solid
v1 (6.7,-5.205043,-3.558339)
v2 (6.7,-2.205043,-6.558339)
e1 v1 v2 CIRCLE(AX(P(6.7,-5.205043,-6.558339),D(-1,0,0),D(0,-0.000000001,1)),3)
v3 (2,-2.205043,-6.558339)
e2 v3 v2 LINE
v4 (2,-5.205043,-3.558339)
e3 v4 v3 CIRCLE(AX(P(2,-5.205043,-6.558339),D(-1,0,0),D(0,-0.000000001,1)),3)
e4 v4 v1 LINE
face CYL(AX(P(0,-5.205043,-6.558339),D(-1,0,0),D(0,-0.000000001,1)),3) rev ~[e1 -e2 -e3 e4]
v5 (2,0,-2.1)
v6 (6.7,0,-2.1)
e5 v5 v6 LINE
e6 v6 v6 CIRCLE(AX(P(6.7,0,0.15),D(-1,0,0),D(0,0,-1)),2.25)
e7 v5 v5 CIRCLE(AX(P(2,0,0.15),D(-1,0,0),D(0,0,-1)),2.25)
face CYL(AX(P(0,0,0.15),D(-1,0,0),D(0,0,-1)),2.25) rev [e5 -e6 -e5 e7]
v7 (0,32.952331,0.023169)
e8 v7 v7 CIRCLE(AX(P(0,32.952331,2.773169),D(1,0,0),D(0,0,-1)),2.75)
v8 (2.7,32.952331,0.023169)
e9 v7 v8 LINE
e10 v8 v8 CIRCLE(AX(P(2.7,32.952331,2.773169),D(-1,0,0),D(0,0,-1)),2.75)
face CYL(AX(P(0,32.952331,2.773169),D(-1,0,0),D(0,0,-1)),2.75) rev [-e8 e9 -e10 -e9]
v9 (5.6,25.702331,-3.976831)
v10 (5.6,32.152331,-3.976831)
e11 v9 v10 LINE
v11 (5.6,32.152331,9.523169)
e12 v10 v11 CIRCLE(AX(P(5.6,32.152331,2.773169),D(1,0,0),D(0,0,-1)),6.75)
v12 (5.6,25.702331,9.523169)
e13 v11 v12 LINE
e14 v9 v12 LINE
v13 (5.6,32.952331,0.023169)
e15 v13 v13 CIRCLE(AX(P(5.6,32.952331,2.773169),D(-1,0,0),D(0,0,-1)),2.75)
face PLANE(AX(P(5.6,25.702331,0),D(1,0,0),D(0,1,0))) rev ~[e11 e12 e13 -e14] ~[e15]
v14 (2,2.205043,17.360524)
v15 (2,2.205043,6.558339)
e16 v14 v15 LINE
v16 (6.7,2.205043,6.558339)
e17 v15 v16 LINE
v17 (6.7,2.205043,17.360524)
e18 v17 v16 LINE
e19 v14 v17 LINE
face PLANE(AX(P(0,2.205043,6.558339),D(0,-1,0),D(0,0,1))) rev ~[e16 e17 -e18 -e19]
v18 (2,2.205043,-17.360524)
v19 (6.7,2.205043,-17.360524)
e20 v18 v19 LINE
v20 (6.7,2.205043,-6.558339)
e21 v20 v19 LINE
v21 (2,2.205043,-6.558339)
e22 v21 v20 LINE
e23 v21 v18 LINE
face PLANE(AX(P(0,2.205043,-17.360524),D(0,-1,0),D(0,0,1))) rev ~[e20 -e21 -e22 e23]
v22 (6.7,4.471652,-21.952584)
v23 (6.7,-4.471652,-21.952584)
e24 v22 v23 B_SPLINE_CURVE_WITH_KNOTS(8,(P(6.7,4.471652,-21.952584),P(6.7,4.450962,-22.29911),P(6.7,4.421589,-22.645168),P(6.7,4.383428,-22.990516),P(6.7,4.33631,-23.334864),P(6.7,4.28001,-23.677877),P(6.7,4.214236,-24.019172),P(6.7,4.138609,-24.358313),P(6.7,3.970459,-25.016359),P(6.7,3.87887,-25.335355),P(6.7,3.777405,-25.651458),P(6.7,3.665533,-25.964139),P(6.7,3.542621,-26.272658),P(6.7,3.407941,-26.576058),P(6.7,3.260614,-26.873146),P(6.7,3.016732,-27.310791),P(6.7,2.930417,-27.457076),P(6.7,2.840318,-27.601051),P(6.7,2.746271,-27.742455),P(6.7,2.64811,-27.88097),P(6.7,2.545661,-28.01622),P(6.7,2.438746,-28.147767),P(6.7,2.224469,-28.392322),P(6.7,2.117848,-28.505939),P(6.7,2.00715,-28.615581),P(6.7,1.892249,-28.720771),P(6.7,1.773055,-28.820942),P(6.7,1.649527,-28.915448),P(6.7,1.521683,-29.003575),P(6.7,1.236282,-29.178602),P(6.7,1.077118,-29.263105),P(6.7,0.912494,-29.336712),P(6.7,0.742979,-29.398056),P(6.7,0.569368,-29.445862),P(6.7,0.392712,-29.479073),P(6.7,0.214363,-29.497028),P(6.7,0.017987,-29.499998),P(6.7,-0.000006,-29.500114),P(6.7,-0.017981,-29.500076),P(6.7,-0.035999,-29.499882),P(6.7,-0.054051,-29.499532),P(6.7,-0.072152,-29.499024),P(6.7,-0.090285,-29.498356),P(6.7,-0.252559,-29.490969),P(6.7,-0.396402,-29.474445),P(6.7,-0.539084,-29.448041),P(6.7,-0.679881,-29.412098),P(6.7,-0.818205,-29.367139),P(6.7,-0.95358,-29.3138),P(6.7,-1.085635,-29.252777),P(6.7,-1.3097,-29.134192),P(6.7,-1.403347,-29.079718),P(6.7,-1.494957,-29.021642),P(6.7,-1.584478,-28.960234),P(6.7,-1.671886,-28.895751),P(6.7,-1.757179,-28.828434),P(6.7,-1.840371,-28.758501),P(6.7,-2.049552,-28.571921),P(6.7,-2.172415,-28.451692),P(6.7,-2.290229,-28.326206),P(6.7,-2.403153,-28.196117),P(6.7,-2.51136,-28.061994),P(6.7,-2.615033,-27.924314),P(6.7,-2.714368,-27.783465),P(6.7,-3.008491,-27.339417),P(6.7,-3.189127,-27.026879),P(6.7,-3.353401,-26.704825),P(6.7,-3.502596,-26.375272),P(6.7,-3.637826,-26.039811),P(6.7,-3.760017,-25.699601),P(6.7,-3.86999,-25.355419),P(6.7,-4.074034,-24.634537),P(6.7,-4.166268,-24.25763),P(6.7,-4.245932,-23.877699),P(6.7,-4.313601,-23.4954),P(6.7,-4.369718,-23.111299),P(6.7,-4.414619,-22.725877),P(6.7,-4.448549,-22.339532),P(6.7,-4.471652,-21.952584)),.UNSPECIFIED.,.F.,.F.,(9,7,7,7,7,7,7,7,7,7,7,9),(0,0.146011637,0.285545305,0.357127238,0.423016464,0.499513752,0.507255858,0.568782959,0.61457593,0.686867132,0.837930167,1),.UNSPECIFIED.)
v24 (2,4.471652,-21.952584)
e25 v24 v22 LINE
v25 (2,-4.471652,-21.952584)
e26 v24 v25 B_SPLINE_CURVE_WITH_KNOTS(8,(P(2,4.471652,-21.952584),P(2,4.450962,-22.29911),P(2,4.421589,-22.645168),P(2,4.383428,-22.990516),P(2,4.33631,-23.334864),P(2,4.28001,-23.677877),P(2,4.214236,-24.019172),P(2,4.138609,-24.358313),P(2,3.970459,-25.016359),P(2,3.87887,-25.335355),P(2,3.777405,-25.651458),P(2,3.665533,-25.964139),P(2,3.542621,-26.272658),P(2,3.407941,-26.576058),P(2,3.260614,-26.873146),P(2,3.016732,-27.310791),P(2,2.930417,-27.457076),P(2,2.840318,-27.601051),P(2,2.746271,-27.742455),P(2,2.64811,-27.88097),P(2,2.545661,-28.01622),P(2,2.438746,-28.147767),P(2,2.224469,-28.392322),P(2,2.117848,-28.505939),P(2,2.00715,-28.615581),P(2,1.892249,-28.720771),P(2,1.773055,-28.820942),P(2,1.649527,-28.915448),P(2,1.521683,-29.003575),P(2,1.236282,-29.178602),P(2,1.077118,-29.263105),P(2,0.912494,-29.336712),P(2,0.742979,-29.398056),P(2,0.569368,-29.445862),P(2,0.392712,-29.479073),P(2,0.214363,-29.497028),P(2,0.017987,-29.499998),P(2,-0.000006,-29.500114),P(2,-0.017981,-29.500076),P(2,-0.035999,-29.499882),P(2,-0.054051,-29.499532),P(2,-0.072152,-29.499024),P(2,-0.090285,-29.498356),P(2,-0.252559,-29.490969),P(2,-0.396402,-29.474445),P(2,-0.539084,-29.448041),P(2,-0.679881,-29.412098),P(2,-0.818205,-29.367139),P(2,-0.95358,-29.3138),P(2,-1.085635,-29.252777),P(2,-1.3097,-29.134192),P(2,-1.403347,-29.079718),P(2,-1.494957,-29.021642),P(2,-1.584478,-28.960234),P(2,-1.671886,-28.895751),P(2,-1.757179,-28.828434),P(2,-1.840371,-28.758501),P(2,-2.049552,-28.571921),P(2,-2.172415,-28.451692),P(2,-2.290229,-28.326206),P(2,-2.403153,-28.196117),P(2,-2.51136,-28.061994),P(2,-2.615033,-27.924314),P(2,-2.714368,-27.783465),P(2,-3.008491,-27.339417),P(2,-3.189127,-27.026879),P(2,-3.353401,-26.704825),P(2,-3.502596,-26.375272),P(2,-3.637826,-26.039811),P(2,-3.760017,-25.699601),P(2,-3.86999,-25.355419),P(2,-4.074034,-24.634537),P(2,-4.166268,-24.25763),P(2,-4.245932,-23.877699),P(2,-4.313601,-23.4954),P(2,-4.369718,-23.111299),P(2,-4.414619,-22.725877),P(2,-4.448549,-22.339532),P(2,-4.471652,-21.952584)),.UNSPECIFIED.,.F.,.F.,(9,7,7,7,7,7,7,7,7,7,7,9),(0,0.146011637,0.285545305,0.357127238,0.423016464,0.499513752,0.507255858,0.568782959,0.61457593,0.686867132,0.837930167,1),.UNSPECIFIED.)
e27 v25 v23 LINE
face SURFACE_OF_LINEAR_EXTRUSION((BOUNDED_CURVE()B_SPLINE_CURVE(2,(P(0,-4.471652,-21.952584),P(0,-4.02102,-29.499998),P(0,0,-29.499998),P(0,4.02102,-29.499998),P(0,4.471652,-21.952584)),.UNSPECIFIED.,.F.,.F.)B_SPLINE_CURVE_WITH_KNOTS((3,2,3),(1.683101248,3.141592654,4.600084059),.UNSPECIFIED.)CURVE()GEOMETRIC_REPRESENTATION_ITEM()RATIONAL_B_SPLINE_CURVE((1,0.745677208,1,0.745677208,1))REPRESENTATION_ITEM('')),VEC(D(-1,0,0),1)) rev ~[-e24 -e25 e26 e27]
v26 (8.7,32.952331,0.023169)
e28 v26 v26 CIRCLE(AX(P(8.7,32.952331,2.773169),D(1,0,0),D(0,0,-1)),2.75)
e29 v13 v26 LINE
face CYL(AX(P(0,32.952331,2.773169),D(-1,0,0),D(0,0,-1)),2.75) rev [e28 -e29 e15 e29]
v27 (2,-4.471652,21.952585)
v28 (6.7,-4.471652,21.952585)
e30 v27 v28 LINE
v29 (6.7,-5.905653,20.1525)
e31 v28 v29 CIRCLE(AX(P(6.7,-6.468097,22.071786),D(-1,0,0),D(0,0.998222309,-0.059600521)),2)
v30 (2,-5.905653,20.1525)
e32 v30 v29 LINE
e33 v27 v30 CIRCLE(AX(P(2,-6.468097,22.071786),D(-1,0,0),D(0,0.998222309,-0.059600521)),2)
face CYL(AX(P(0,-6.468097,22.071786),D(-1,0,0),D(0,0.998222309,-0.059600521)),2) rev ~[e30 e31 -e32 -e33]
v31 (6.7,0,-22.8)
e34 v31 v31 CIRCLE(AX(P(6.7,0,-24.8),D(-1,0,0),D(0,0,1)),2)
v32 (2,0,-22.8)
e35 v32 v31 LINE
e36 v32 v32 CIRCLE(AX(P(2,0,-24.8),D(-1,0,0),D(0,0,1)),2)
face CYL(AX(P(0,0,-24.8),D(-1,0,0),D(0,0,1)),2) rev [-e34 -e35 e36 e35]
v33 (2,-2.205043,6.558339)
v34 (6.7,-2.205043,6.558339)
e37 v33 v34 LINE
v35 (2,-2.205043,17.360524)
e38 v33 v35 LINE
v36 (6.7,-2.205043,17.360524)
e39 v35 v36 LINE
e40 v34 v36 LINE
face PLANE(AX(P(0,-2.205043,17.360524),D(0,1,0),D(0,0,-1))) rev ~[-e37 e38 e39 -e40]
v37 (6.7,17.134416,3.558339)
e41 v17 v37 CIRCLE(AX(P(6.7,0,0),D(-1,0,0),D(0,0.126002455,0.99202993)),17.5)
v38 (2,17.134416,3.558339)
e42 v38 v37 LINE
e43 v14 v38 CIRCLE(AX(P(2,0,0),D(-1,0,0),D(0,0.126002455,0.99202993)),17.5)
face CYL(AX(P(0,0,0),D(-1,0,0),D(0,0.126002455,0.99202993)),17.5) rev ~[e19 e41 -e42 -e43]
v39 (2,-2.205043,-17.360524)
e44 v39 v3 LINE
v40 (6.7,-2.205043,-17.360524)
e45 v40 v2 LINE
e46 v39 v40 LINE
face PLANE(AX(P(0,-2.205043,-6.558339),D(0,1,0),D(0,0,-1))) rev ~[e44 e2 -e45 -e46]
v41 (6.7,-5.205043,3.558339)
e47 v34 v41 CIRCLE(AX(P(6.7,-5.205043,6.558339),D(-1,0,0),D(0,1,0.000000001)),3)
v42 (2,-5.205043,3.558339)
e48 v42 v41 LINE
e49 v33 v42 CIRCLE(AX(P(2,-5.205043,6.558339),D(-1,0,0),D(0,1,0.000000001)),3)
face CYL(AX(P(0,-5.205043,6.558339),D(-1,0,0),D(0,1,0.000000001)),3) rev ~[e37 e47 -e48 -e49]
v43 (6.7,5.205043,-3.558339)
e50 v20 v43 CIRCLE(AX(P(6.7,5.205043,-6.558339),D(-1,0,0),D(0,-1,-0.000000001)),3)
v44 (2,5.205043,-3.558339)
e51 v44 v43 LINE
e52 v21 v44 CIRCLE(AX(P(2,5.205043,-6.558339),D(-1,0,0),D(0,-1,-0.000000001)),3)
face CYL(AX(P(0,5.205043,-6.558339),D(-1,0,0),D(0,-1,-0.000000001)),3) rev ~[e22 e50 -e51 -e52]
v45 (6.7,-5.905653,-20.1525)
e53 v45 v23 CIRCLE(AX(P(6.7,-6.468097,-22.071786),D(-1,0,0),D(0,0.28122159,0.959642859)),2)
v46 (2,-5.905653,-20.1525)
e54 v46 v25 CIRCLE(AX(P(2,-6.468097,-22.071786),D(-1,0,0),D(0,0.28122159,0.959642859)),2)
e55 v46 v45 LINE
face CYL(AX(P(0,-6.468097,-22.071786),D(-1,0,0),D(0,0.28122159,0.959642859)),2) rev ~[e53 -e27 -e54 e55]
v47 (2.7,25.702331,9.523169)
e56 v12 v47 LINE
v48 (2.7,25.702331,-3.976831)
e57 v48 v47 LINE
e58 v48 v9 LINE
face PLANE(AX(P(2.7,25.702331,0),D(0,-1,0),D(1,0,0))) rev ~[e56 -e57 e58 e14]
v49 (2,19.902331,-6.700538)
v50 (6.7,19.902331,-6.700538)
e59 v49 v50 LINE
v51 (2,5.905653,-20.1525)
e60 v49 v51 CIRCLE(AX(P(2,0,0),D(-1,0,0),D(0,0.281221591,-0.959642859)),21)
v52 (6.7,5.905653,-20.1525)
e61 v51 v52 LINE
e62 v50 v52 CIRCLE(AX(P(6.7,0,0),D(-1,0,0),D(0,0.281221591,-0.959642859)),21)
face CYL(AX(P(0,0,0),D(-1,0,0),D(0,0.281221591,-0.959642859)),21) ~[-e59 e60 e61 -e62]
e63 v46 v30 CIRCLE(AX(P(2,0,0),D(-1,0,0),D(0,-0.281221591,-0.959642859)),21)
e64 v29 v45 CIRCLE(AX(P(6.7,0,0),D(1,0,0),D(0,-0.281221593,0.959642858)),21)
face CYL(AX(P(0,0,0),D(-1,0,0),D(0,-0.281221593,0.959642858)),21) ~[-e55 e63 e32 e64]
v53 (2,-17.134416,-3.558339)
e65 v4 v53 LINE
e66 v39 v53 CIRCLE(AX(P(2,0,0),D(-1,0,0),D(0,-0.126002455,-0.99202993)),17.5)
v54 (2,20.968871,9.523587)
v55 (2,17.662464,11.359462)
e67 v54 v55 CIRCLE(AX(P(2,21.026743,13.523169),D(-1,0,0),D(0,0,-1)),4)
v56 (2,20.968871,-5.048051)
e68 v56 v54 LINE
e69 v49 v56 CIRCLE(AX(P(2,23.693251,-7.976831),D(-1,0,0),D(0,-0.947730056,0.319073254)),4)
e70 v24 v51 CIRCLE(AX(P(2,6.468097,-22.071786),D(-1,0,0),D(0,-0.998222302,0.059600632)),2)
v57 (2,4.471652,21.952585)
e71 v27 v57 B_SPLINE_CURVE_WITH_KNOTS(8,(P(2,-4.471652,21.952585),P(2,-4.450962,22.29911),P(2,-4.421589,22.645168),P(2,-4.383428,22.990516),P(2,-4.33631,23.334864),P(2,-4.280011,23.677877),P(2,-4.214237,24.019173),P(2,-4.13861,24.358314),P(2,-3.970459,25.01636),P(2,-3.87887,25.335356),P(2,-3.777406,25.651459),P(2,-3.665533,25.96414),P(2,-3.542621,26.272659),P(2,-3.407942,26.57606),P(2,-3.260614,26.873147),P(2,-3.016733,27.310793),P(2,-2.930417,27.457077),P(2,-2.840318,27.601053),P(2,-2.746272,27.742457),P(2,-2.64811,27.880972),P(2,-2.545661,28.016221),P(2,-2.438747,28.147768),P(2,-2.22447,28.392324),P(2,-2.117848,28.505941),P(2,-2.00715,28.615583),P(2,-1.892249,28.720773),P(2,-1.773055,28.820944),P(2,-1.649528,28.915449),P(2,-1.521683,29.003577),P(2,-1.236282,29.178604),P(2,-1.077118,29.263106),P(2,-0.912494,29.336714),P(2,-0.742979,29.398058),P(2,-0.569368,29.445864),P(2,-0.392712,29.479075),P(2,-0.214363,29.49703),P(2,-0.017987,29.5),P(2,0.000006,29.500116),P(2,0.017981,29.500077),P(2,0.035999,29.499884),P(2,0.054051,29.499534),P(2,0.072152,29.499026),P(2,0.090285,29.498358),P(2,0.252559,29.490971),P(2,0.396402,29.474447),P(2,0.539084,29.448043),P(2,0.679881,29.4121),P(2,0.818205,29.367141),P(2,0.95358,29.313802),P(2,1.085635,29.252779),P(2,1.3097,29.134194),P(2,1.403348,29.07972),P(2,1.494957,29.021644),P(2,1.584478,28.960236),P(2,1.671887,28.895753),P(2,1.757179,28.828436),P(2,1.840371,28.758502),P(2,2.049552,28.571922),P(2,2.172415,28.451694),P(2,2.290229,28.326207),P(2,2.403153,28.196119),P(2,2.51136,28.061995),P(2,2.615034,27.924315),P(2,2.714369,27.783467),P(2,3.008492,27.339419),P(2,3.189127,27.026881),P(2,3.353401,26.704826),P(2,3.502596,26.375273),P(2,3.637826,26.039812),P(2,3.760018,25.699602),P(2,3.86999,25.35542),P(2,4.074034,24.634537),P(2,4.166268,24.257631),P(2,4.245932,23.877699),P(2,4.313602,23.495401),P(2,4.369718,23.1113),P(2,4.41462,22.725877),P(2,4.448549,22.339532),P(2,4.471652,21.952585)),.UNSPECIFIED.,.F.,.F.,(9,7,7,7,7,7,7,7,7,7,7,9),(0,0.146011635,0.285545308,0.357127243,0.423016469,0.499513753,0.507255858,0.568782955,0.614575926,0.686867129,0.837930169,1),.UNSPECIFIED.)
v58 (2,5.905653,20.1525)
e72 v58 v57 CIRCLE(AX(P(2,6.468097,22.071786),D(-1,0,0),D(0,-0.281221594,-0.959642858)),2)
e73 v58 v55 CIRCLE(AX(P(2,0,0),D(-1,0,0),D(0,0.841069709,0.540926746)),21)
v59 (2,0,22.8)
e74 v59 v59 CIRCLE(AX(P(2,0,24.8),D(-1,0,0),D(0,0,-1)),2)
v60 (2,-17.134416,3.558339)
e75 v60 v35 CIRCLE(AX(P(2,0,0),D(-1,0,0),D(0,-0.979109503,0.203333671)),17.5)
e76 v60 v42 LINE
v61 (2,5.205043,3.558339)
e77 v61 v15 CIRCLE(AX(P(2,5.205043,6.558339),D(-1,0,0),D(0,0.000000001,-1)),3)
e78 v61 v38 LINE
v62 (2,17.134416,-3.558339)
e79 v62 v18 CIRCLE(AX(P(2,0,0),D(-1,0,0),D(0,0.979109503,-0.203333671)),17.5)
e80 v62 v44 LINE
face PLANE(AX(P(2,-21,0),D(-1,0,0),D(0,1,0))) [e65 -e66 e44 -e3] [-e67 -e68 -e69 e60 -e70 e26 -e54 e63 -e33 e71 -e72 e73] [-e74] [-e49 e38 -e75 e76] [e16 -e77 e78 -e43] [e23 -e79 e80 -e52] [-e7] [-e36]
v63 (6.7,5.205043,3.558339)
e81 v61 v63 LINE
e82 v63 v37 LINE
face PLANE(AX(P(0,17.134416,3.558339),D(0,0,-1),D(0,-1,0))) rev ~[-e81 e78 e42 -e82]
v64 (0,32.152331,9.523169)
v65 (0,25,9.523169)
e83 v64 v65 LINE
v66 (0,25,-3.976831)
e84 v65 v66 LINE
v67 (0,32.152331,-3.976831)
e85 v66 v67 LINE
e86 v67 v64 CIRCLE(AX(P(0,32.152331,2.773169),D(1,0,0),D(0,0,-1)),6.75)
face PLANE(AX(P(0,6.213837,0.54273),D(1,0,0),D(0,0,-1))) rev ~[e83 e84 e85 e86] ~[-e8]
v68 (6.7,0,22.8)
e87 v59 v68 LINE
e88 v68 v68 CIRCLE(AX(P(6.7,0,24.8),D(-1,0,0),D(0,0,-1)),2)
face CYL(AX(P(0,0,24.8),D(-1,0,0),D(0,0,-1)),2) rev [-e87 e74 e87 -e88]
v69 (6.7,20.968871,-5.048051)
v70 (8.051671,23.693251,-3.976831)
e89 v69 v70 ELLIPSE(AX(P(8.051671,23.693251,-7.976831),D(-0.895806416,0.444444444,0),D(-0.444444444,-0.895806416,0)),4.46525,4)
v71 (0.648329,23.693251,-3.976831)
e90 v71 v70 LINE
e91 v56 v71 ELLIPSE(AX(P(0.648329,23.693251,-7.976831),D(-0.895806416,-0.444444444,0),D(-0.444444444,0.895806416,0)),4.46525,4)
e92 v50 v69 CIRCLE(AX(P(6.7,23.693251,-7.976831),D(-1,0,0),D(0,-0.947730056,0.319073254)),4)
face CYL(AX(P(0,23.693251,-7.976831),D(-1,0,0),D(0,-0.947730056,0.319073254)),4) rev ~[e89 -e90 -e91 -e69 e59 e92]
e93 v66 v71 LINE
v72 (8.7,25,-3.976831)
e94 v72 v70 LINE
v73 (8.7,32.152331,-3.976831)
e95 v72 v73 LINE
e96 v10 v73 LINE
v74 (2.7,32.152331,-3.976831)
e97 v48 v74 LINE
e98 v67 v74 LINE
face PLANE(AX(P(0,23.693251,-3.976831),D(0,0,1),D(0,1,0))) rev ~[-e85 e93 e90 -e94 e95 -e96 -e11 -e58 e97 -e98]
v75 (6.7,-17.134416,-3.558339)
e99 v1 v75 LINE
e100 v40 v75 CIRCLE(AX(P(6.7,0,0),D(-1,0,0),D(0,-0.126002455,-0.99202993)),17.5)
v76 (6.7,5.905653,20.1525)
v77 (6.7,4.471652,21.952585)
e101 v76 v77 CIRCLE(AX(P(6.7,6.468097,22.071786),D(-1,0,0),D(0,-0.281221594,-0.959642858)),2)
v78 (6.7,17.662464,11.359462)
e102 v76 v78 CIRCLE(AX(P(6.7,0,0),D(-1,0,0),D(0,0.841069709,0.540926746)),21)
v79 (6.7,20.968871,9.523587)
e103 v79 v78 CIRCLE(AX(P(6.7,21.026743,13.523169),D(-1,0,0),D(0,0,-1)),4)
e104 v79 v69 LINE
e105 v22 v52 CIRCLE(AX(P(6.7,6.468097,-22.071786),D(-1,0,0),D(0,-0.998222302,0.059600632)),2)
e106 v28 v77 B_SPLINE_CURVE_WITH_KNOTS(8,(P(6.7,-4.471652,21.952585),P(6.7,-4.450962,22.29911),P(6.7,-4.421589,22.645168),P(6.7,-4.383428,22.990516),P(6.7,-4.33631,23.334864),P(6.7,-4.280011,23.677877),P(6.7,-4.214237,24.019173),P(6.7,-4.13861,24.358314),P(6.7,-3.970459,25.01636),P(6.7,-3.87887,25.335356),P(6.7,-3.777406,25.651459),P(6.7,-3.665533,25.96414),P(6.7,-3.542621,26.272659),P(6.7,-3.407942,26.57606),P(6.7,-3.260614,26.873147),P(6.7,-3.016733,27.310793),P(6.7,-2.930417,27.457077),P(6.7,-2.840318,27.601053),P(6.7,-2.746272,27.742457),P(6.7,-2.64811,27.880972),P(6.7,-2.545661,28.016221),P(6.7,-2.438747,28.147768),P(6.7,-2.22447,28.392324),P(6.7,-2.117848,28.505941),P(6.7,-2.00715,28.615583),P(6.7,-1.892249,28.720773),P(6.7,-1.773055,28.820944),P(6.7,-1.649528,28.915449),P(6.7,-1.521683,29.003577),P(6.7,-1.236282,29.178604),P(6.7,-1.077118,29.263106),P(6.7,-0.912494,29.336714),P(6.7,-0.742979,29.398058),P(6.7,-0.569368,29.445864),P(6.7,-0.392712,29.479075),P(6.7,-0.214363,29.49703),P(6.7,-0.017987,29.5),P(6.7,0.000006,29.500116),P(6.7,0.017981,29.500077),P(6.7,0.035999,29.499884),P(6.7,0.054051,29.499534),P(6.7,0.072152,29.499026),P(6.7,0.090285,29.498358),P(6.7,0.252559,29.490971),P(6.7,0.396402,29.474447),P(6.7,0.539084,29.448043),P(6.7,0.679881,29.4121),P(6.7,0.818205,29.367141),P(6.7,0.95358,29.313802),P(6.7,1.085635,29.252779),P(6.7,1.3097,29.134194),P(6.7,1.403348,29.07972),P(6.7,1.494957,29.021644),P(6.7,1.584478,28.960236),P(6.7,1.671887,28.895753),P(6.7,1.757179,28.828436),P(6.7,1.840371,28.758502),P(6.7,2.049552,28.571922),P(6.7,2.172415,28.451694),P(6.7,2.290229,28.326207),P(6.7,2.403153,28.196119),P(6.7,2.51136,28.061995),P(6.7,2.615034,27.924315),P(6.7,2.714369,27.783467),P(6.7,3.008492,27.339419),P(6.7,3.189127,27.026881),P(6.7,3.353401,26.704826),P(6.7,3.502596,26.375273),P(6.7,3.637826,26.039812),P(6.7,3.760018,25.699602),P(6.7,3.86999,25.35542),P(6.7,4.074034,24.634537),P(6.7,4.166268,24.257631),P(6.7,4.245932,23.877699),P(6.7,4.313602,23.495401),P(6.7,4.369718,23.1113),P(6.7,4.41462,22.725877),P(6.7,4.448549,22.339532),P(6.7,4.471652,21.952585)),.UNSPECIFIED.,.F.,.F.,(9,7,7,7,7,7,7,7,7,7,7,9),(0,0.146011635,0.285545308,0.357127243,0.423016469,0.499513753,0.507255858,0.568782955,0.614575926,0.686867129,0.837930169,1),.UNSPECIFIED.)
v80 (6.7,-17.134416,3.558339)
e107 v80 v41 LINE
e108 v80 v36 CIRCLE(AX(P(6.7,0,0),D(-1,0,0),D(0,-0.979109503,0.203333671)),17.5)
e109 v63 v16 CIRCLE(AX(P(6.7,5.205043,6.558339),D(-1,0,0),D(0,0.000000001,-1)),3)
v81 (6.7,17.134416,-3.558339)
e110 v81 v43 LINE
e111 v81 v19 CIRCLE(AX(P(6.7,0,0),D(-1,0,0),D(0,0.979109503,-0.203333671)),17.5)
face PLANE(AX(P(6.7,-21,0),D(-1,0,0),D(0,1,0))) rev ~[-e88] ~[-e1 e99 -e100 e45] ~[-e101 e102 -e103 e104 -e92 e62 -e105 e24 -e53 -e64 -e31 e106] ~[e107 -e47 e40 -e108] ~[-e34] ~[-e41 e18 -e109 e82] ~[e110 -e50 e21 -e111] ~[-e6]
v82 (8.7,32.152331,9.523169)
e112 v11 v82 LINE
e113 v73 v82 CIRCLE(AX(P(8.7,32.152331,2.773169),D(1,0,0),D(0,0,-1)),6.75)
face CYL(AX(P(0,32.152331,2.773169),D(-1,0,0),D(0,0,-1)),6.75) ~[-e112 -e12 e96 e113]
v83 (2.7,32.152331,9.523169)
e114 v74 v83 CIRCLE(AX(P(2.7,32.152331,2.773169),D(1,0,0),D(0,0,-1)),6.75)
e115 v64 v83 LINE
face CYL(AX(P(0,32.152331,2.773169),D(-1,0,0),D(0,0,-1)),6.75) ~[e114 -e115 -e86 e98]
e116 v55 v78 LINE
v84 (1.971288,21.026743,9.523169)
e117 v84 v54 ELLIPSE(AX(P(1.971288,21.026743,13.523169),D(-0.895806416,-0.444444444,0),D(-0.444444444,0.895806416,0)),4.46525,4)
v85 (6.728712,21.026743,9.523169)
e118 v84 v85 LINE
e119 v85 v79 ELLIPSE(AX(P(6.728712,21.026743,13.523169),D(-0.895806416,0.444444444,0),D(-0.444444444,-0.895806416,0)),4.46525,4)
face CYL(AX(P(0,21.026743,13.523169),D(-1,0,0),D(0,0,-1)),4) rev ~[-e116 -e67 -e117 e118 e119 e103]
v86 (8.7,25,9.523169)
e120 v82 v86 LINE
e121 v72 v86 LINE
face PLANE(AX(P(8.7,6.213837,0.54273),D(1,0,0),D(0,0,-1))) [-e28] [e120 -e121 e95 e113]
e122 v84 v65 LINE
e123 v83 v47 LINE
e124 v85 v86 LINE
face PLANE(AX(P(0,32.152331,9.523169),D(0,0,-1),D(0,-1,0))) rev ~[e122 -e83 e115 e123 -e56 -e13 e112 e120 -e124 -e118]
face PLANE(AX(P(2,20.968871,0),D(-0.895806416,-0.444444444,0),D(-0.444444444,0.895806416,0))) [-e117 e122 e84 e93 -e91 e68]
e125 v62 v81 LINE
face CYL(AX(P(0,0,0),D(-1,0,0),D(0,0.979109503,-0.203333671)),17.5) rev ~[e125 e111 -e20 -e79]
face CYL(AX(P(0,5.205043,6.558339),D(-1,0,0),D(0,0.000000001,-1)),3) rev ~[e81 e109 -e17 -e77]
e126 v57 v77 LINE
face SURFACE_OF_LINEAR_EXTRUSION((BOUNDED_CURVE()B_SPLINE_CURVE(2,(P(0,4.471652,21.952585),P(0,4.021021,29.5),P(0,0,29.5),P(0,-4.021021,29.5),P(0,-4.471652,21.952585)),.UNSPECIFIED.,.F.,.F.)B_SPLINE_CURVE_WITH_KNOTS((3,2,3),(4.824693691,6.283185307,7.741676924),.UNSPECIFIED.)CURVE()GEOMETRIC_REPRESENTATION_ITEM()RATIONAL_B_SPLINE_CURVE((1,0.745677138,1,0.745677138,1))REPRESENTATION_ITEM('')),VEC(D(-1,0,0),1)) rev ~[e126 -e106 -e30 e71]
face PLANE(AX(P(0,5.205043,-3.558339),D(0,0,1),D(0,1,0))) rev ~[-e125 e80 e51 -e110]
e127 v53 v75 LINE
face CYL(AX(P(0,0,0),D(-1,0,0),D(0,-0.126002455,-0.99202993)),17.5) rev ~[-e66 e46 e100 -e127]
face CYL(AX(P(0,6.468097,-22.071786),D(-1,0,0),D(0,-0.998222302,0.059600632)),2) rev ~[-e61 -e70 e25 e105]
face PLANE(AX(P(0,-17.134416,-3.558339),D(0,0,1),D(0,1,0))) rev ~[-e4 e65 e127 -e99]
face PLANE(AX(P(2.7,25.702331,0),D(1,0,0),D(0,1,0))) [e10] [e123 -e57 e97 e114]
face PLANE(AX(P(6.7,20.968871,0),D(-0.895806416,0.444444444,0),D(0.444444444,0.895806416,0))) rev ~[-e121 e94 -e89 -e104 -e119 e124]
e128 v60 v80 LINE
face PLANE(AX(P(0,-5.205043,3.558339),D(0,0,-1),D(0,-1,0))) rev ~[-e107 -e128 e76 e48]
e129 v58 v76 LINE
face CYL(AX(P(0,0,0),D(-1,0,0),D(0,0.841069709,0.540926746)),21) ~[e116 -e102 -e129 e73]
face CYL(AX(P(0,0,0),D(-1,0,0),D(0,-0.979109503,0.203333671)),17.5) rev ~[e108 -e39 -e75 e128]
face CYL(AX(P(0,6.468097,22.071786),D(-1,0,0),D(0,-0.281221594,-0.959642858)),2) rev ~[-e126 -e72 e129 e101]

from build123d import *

# Parameters (mm, degrees)
SKETCH_1_R           = 2
SKETCH_1_R_2         = 2.75
SKETCH_1_R_3         = 2.25
EXTRUDE_2_DEPTH      = 8.7
SKETCH_8_W           = 2.9
SKETCH_8_H           = 13.2
CUT_EXTRUDE_11_DEPTH = 30


with BuildPart() as part:
    # 草图1 → 凸台-拉伸2 (new body)
    with BuildSketch(Plane(origin=(0, 0, 0), x_dir=(0, 0, -1), z_dir=(1, 0, 0))):
        with BuildLine():
            Line((-9.523168661, 32.152331174), (-9.523168661, 21.026742719))
            ThreePointArc((-9.523168661, 21.026742719), (-10.012126939, 19.110343484), (-11.359461675, 17.662463884))
            ThreePointArc((-11.359461675, 17.662463884), (-16.816854056, 12.577496557), (-20.152500023, 5.905653461))
            ThreePointArc((-20.152500023, 5.905653461), (-20.825612762, 4.903790761), (-21.9525847, 4.47165203))
            add(Edge.make_bspline(
                [(-21.9525847, 4.47165203), (-29.5, 4.021021071), (-29.5, 0), (-29.5, -4.021021071), (-21.9525847, -4.47165203)],
                knots=[4.824693691, 4.824693691, 4.824693691, 6.283185307, 6.283185307, 7.741676924, 7.741676924, 7.741676924], degree=2, weights=[1, 0.745677138, 1, 0.745677138, 1]))
            ThreePointArc((-21.9525847, -4.47165203), (-20.825612762, -4.903790761), (-20.152500023, -5.905653461))
            ThreePointArc((-20.152500023, -5.905653461), (2.6e-08, -21), (20.152500038, -5.905653412))
            ThreePointArc((20.152500038, -5.905653412), (20.825612688, -4.903790778), (21.95258449, -4.47165199))
            add(Edge.make_bspline(
                [(21.95258449, -4.47165199), (29.499998011, -4.021020278), (29.499998011, 0), (29.499998011, 4.021020278), (21.95258449, 4.47165199)],
                knots=[1.683101248, 1.683101248, 1.683101248, 3.141592654, 3.141592654, 4.600084059, 4.600084059, 4.600084059], degree=2, weights=[1, 0.745677208, 1, 0.745677208, 1]))
            ThreePointArc((21.95258449, 4.47165199), (20.825612688, 4.903790778), (20.152500038, 5.905653412))
            ThreePointArc((20.152500038, 5.905653412), (15.140943314, 14.551695282), (6.700538325, 19.902331174))
            ThreePointArc((6.700538325, 19.902331174), (4.728356924, 21.359281824), (3.976831339, 23.693251398))
            Line((3.976831339, 23.693251398), (3.976831339, 32.152331174))
            ThreePointArc((3.976831339, 32.152331174), (-2.773168661, 38.902331174), (-9.523168661, 32.152331174))
        make_face()
        with Locations((-24.8, 0)):
            Circle(SKETCH_1_R, mode=Mode.SUBTRACT)
        with Locations(Location((24.8, 0, 0), (0, 0, 180))):
            Circle(SKETCH_1_R, mode=Mode.SUBTRACT)
        with Locations((-2.773168661, 32.952331174)):
            Circle(SKETCH_1_R_2, mode=Mode.SUBTRACT)
        with Locations((-0.15, 0)):
            Circle(SKETCH_1_R_3, mode=Mode.SUBTRACT)
        with BuildLine():
            Line((-3.558339237, 17.134416298), (-3.558339237, 5.205042955))
            ThreePointArc((-3.558339237, 5.205042955), (-4.437018893, 3.083722611), (-6.558339237, 2.205042955))
            Line((-6.558339237, 2.205042955), (-17.36052377, 2.205042955))
            ThreePointArc((-17.36052377, 2.205042955), (-12.849951536, 11.879762014), (-3.558339237, 17.134416298))
        make_face(mode=Mode.SUBTRACT)
        with BuildLine():
            Line((3.558339237, -17.134416298), (3.558339237, -5.205042955))
            ThreePointArc((3.558339237, -5.205042955), (4.437018893, -3.083722611), (6.558339237, -2.205042955))
            Line((6.558339237, -2.205042955), (17.36052377, -2.205042955))
            ThreePointArc((17.36052377, -2.205042955), (12.849951536, -11.879762014), (3.558339237, -17.134416298))
        make_face(mode=Mode.SUBTRACT)
        with BuildLine():
            Line((17.36052377, 2.205042955), (6.558339237, 2.205042955))
            ThreePointArc((6.558339237, 2.205042955), (4.437018893, 3.083722611), (3.558339237, 5.205042955))
            Line((3.558339237, 5.205042955), (3.558339237, 17.134416298))
            ThreePointArc((3.558339237, 17.134416298), (12.849951536, 11.879762014), (17.36052377, 2.205042955))
        make_face(mode=Mode.SUBTRACT)
        with BuildLine():
            Line((-17.36052377, -2.205042955), (-6.558339237, -2.205042955))
            ThreePointArc((-6.558339237, -2.205042955), (-4.437018893, -3.083722611), (-3.558339237, -5.205042955))
            Line((-3.558339237, -5.205042955), (-3.558339237, -17.134416298))
            ThreePointArc((-3.558339237, -17.134416298), (-12.849951536, -11.879762014), (-17.36052377, -2.205042955))
        make_face(mode=Mode.SUBTRACT)
    extrude(amount=EXTRUDE_2_DEPTH)

    # 草图8 → 切除-拉伸11 (cut, symmetric)
    with BuildSketch(Plane.XY):
        Polygon((0, -21), (2, -21), (2, 20.968871126), (0, 25), align=None)
        Polygon((8.7, -21), (6.7, -21), (6.7, 20.968871126), (8.7, 25), align=None)
        with Locations((4.15, 32.302331174)):
            Rectangle(SKETCH_8_W, SKETCH_8_H)
    extrude(amount=CUT_EXTRUDE_11_DEPTH, both=True, mode=Mode.SUBTRACT)


solid = part.part
